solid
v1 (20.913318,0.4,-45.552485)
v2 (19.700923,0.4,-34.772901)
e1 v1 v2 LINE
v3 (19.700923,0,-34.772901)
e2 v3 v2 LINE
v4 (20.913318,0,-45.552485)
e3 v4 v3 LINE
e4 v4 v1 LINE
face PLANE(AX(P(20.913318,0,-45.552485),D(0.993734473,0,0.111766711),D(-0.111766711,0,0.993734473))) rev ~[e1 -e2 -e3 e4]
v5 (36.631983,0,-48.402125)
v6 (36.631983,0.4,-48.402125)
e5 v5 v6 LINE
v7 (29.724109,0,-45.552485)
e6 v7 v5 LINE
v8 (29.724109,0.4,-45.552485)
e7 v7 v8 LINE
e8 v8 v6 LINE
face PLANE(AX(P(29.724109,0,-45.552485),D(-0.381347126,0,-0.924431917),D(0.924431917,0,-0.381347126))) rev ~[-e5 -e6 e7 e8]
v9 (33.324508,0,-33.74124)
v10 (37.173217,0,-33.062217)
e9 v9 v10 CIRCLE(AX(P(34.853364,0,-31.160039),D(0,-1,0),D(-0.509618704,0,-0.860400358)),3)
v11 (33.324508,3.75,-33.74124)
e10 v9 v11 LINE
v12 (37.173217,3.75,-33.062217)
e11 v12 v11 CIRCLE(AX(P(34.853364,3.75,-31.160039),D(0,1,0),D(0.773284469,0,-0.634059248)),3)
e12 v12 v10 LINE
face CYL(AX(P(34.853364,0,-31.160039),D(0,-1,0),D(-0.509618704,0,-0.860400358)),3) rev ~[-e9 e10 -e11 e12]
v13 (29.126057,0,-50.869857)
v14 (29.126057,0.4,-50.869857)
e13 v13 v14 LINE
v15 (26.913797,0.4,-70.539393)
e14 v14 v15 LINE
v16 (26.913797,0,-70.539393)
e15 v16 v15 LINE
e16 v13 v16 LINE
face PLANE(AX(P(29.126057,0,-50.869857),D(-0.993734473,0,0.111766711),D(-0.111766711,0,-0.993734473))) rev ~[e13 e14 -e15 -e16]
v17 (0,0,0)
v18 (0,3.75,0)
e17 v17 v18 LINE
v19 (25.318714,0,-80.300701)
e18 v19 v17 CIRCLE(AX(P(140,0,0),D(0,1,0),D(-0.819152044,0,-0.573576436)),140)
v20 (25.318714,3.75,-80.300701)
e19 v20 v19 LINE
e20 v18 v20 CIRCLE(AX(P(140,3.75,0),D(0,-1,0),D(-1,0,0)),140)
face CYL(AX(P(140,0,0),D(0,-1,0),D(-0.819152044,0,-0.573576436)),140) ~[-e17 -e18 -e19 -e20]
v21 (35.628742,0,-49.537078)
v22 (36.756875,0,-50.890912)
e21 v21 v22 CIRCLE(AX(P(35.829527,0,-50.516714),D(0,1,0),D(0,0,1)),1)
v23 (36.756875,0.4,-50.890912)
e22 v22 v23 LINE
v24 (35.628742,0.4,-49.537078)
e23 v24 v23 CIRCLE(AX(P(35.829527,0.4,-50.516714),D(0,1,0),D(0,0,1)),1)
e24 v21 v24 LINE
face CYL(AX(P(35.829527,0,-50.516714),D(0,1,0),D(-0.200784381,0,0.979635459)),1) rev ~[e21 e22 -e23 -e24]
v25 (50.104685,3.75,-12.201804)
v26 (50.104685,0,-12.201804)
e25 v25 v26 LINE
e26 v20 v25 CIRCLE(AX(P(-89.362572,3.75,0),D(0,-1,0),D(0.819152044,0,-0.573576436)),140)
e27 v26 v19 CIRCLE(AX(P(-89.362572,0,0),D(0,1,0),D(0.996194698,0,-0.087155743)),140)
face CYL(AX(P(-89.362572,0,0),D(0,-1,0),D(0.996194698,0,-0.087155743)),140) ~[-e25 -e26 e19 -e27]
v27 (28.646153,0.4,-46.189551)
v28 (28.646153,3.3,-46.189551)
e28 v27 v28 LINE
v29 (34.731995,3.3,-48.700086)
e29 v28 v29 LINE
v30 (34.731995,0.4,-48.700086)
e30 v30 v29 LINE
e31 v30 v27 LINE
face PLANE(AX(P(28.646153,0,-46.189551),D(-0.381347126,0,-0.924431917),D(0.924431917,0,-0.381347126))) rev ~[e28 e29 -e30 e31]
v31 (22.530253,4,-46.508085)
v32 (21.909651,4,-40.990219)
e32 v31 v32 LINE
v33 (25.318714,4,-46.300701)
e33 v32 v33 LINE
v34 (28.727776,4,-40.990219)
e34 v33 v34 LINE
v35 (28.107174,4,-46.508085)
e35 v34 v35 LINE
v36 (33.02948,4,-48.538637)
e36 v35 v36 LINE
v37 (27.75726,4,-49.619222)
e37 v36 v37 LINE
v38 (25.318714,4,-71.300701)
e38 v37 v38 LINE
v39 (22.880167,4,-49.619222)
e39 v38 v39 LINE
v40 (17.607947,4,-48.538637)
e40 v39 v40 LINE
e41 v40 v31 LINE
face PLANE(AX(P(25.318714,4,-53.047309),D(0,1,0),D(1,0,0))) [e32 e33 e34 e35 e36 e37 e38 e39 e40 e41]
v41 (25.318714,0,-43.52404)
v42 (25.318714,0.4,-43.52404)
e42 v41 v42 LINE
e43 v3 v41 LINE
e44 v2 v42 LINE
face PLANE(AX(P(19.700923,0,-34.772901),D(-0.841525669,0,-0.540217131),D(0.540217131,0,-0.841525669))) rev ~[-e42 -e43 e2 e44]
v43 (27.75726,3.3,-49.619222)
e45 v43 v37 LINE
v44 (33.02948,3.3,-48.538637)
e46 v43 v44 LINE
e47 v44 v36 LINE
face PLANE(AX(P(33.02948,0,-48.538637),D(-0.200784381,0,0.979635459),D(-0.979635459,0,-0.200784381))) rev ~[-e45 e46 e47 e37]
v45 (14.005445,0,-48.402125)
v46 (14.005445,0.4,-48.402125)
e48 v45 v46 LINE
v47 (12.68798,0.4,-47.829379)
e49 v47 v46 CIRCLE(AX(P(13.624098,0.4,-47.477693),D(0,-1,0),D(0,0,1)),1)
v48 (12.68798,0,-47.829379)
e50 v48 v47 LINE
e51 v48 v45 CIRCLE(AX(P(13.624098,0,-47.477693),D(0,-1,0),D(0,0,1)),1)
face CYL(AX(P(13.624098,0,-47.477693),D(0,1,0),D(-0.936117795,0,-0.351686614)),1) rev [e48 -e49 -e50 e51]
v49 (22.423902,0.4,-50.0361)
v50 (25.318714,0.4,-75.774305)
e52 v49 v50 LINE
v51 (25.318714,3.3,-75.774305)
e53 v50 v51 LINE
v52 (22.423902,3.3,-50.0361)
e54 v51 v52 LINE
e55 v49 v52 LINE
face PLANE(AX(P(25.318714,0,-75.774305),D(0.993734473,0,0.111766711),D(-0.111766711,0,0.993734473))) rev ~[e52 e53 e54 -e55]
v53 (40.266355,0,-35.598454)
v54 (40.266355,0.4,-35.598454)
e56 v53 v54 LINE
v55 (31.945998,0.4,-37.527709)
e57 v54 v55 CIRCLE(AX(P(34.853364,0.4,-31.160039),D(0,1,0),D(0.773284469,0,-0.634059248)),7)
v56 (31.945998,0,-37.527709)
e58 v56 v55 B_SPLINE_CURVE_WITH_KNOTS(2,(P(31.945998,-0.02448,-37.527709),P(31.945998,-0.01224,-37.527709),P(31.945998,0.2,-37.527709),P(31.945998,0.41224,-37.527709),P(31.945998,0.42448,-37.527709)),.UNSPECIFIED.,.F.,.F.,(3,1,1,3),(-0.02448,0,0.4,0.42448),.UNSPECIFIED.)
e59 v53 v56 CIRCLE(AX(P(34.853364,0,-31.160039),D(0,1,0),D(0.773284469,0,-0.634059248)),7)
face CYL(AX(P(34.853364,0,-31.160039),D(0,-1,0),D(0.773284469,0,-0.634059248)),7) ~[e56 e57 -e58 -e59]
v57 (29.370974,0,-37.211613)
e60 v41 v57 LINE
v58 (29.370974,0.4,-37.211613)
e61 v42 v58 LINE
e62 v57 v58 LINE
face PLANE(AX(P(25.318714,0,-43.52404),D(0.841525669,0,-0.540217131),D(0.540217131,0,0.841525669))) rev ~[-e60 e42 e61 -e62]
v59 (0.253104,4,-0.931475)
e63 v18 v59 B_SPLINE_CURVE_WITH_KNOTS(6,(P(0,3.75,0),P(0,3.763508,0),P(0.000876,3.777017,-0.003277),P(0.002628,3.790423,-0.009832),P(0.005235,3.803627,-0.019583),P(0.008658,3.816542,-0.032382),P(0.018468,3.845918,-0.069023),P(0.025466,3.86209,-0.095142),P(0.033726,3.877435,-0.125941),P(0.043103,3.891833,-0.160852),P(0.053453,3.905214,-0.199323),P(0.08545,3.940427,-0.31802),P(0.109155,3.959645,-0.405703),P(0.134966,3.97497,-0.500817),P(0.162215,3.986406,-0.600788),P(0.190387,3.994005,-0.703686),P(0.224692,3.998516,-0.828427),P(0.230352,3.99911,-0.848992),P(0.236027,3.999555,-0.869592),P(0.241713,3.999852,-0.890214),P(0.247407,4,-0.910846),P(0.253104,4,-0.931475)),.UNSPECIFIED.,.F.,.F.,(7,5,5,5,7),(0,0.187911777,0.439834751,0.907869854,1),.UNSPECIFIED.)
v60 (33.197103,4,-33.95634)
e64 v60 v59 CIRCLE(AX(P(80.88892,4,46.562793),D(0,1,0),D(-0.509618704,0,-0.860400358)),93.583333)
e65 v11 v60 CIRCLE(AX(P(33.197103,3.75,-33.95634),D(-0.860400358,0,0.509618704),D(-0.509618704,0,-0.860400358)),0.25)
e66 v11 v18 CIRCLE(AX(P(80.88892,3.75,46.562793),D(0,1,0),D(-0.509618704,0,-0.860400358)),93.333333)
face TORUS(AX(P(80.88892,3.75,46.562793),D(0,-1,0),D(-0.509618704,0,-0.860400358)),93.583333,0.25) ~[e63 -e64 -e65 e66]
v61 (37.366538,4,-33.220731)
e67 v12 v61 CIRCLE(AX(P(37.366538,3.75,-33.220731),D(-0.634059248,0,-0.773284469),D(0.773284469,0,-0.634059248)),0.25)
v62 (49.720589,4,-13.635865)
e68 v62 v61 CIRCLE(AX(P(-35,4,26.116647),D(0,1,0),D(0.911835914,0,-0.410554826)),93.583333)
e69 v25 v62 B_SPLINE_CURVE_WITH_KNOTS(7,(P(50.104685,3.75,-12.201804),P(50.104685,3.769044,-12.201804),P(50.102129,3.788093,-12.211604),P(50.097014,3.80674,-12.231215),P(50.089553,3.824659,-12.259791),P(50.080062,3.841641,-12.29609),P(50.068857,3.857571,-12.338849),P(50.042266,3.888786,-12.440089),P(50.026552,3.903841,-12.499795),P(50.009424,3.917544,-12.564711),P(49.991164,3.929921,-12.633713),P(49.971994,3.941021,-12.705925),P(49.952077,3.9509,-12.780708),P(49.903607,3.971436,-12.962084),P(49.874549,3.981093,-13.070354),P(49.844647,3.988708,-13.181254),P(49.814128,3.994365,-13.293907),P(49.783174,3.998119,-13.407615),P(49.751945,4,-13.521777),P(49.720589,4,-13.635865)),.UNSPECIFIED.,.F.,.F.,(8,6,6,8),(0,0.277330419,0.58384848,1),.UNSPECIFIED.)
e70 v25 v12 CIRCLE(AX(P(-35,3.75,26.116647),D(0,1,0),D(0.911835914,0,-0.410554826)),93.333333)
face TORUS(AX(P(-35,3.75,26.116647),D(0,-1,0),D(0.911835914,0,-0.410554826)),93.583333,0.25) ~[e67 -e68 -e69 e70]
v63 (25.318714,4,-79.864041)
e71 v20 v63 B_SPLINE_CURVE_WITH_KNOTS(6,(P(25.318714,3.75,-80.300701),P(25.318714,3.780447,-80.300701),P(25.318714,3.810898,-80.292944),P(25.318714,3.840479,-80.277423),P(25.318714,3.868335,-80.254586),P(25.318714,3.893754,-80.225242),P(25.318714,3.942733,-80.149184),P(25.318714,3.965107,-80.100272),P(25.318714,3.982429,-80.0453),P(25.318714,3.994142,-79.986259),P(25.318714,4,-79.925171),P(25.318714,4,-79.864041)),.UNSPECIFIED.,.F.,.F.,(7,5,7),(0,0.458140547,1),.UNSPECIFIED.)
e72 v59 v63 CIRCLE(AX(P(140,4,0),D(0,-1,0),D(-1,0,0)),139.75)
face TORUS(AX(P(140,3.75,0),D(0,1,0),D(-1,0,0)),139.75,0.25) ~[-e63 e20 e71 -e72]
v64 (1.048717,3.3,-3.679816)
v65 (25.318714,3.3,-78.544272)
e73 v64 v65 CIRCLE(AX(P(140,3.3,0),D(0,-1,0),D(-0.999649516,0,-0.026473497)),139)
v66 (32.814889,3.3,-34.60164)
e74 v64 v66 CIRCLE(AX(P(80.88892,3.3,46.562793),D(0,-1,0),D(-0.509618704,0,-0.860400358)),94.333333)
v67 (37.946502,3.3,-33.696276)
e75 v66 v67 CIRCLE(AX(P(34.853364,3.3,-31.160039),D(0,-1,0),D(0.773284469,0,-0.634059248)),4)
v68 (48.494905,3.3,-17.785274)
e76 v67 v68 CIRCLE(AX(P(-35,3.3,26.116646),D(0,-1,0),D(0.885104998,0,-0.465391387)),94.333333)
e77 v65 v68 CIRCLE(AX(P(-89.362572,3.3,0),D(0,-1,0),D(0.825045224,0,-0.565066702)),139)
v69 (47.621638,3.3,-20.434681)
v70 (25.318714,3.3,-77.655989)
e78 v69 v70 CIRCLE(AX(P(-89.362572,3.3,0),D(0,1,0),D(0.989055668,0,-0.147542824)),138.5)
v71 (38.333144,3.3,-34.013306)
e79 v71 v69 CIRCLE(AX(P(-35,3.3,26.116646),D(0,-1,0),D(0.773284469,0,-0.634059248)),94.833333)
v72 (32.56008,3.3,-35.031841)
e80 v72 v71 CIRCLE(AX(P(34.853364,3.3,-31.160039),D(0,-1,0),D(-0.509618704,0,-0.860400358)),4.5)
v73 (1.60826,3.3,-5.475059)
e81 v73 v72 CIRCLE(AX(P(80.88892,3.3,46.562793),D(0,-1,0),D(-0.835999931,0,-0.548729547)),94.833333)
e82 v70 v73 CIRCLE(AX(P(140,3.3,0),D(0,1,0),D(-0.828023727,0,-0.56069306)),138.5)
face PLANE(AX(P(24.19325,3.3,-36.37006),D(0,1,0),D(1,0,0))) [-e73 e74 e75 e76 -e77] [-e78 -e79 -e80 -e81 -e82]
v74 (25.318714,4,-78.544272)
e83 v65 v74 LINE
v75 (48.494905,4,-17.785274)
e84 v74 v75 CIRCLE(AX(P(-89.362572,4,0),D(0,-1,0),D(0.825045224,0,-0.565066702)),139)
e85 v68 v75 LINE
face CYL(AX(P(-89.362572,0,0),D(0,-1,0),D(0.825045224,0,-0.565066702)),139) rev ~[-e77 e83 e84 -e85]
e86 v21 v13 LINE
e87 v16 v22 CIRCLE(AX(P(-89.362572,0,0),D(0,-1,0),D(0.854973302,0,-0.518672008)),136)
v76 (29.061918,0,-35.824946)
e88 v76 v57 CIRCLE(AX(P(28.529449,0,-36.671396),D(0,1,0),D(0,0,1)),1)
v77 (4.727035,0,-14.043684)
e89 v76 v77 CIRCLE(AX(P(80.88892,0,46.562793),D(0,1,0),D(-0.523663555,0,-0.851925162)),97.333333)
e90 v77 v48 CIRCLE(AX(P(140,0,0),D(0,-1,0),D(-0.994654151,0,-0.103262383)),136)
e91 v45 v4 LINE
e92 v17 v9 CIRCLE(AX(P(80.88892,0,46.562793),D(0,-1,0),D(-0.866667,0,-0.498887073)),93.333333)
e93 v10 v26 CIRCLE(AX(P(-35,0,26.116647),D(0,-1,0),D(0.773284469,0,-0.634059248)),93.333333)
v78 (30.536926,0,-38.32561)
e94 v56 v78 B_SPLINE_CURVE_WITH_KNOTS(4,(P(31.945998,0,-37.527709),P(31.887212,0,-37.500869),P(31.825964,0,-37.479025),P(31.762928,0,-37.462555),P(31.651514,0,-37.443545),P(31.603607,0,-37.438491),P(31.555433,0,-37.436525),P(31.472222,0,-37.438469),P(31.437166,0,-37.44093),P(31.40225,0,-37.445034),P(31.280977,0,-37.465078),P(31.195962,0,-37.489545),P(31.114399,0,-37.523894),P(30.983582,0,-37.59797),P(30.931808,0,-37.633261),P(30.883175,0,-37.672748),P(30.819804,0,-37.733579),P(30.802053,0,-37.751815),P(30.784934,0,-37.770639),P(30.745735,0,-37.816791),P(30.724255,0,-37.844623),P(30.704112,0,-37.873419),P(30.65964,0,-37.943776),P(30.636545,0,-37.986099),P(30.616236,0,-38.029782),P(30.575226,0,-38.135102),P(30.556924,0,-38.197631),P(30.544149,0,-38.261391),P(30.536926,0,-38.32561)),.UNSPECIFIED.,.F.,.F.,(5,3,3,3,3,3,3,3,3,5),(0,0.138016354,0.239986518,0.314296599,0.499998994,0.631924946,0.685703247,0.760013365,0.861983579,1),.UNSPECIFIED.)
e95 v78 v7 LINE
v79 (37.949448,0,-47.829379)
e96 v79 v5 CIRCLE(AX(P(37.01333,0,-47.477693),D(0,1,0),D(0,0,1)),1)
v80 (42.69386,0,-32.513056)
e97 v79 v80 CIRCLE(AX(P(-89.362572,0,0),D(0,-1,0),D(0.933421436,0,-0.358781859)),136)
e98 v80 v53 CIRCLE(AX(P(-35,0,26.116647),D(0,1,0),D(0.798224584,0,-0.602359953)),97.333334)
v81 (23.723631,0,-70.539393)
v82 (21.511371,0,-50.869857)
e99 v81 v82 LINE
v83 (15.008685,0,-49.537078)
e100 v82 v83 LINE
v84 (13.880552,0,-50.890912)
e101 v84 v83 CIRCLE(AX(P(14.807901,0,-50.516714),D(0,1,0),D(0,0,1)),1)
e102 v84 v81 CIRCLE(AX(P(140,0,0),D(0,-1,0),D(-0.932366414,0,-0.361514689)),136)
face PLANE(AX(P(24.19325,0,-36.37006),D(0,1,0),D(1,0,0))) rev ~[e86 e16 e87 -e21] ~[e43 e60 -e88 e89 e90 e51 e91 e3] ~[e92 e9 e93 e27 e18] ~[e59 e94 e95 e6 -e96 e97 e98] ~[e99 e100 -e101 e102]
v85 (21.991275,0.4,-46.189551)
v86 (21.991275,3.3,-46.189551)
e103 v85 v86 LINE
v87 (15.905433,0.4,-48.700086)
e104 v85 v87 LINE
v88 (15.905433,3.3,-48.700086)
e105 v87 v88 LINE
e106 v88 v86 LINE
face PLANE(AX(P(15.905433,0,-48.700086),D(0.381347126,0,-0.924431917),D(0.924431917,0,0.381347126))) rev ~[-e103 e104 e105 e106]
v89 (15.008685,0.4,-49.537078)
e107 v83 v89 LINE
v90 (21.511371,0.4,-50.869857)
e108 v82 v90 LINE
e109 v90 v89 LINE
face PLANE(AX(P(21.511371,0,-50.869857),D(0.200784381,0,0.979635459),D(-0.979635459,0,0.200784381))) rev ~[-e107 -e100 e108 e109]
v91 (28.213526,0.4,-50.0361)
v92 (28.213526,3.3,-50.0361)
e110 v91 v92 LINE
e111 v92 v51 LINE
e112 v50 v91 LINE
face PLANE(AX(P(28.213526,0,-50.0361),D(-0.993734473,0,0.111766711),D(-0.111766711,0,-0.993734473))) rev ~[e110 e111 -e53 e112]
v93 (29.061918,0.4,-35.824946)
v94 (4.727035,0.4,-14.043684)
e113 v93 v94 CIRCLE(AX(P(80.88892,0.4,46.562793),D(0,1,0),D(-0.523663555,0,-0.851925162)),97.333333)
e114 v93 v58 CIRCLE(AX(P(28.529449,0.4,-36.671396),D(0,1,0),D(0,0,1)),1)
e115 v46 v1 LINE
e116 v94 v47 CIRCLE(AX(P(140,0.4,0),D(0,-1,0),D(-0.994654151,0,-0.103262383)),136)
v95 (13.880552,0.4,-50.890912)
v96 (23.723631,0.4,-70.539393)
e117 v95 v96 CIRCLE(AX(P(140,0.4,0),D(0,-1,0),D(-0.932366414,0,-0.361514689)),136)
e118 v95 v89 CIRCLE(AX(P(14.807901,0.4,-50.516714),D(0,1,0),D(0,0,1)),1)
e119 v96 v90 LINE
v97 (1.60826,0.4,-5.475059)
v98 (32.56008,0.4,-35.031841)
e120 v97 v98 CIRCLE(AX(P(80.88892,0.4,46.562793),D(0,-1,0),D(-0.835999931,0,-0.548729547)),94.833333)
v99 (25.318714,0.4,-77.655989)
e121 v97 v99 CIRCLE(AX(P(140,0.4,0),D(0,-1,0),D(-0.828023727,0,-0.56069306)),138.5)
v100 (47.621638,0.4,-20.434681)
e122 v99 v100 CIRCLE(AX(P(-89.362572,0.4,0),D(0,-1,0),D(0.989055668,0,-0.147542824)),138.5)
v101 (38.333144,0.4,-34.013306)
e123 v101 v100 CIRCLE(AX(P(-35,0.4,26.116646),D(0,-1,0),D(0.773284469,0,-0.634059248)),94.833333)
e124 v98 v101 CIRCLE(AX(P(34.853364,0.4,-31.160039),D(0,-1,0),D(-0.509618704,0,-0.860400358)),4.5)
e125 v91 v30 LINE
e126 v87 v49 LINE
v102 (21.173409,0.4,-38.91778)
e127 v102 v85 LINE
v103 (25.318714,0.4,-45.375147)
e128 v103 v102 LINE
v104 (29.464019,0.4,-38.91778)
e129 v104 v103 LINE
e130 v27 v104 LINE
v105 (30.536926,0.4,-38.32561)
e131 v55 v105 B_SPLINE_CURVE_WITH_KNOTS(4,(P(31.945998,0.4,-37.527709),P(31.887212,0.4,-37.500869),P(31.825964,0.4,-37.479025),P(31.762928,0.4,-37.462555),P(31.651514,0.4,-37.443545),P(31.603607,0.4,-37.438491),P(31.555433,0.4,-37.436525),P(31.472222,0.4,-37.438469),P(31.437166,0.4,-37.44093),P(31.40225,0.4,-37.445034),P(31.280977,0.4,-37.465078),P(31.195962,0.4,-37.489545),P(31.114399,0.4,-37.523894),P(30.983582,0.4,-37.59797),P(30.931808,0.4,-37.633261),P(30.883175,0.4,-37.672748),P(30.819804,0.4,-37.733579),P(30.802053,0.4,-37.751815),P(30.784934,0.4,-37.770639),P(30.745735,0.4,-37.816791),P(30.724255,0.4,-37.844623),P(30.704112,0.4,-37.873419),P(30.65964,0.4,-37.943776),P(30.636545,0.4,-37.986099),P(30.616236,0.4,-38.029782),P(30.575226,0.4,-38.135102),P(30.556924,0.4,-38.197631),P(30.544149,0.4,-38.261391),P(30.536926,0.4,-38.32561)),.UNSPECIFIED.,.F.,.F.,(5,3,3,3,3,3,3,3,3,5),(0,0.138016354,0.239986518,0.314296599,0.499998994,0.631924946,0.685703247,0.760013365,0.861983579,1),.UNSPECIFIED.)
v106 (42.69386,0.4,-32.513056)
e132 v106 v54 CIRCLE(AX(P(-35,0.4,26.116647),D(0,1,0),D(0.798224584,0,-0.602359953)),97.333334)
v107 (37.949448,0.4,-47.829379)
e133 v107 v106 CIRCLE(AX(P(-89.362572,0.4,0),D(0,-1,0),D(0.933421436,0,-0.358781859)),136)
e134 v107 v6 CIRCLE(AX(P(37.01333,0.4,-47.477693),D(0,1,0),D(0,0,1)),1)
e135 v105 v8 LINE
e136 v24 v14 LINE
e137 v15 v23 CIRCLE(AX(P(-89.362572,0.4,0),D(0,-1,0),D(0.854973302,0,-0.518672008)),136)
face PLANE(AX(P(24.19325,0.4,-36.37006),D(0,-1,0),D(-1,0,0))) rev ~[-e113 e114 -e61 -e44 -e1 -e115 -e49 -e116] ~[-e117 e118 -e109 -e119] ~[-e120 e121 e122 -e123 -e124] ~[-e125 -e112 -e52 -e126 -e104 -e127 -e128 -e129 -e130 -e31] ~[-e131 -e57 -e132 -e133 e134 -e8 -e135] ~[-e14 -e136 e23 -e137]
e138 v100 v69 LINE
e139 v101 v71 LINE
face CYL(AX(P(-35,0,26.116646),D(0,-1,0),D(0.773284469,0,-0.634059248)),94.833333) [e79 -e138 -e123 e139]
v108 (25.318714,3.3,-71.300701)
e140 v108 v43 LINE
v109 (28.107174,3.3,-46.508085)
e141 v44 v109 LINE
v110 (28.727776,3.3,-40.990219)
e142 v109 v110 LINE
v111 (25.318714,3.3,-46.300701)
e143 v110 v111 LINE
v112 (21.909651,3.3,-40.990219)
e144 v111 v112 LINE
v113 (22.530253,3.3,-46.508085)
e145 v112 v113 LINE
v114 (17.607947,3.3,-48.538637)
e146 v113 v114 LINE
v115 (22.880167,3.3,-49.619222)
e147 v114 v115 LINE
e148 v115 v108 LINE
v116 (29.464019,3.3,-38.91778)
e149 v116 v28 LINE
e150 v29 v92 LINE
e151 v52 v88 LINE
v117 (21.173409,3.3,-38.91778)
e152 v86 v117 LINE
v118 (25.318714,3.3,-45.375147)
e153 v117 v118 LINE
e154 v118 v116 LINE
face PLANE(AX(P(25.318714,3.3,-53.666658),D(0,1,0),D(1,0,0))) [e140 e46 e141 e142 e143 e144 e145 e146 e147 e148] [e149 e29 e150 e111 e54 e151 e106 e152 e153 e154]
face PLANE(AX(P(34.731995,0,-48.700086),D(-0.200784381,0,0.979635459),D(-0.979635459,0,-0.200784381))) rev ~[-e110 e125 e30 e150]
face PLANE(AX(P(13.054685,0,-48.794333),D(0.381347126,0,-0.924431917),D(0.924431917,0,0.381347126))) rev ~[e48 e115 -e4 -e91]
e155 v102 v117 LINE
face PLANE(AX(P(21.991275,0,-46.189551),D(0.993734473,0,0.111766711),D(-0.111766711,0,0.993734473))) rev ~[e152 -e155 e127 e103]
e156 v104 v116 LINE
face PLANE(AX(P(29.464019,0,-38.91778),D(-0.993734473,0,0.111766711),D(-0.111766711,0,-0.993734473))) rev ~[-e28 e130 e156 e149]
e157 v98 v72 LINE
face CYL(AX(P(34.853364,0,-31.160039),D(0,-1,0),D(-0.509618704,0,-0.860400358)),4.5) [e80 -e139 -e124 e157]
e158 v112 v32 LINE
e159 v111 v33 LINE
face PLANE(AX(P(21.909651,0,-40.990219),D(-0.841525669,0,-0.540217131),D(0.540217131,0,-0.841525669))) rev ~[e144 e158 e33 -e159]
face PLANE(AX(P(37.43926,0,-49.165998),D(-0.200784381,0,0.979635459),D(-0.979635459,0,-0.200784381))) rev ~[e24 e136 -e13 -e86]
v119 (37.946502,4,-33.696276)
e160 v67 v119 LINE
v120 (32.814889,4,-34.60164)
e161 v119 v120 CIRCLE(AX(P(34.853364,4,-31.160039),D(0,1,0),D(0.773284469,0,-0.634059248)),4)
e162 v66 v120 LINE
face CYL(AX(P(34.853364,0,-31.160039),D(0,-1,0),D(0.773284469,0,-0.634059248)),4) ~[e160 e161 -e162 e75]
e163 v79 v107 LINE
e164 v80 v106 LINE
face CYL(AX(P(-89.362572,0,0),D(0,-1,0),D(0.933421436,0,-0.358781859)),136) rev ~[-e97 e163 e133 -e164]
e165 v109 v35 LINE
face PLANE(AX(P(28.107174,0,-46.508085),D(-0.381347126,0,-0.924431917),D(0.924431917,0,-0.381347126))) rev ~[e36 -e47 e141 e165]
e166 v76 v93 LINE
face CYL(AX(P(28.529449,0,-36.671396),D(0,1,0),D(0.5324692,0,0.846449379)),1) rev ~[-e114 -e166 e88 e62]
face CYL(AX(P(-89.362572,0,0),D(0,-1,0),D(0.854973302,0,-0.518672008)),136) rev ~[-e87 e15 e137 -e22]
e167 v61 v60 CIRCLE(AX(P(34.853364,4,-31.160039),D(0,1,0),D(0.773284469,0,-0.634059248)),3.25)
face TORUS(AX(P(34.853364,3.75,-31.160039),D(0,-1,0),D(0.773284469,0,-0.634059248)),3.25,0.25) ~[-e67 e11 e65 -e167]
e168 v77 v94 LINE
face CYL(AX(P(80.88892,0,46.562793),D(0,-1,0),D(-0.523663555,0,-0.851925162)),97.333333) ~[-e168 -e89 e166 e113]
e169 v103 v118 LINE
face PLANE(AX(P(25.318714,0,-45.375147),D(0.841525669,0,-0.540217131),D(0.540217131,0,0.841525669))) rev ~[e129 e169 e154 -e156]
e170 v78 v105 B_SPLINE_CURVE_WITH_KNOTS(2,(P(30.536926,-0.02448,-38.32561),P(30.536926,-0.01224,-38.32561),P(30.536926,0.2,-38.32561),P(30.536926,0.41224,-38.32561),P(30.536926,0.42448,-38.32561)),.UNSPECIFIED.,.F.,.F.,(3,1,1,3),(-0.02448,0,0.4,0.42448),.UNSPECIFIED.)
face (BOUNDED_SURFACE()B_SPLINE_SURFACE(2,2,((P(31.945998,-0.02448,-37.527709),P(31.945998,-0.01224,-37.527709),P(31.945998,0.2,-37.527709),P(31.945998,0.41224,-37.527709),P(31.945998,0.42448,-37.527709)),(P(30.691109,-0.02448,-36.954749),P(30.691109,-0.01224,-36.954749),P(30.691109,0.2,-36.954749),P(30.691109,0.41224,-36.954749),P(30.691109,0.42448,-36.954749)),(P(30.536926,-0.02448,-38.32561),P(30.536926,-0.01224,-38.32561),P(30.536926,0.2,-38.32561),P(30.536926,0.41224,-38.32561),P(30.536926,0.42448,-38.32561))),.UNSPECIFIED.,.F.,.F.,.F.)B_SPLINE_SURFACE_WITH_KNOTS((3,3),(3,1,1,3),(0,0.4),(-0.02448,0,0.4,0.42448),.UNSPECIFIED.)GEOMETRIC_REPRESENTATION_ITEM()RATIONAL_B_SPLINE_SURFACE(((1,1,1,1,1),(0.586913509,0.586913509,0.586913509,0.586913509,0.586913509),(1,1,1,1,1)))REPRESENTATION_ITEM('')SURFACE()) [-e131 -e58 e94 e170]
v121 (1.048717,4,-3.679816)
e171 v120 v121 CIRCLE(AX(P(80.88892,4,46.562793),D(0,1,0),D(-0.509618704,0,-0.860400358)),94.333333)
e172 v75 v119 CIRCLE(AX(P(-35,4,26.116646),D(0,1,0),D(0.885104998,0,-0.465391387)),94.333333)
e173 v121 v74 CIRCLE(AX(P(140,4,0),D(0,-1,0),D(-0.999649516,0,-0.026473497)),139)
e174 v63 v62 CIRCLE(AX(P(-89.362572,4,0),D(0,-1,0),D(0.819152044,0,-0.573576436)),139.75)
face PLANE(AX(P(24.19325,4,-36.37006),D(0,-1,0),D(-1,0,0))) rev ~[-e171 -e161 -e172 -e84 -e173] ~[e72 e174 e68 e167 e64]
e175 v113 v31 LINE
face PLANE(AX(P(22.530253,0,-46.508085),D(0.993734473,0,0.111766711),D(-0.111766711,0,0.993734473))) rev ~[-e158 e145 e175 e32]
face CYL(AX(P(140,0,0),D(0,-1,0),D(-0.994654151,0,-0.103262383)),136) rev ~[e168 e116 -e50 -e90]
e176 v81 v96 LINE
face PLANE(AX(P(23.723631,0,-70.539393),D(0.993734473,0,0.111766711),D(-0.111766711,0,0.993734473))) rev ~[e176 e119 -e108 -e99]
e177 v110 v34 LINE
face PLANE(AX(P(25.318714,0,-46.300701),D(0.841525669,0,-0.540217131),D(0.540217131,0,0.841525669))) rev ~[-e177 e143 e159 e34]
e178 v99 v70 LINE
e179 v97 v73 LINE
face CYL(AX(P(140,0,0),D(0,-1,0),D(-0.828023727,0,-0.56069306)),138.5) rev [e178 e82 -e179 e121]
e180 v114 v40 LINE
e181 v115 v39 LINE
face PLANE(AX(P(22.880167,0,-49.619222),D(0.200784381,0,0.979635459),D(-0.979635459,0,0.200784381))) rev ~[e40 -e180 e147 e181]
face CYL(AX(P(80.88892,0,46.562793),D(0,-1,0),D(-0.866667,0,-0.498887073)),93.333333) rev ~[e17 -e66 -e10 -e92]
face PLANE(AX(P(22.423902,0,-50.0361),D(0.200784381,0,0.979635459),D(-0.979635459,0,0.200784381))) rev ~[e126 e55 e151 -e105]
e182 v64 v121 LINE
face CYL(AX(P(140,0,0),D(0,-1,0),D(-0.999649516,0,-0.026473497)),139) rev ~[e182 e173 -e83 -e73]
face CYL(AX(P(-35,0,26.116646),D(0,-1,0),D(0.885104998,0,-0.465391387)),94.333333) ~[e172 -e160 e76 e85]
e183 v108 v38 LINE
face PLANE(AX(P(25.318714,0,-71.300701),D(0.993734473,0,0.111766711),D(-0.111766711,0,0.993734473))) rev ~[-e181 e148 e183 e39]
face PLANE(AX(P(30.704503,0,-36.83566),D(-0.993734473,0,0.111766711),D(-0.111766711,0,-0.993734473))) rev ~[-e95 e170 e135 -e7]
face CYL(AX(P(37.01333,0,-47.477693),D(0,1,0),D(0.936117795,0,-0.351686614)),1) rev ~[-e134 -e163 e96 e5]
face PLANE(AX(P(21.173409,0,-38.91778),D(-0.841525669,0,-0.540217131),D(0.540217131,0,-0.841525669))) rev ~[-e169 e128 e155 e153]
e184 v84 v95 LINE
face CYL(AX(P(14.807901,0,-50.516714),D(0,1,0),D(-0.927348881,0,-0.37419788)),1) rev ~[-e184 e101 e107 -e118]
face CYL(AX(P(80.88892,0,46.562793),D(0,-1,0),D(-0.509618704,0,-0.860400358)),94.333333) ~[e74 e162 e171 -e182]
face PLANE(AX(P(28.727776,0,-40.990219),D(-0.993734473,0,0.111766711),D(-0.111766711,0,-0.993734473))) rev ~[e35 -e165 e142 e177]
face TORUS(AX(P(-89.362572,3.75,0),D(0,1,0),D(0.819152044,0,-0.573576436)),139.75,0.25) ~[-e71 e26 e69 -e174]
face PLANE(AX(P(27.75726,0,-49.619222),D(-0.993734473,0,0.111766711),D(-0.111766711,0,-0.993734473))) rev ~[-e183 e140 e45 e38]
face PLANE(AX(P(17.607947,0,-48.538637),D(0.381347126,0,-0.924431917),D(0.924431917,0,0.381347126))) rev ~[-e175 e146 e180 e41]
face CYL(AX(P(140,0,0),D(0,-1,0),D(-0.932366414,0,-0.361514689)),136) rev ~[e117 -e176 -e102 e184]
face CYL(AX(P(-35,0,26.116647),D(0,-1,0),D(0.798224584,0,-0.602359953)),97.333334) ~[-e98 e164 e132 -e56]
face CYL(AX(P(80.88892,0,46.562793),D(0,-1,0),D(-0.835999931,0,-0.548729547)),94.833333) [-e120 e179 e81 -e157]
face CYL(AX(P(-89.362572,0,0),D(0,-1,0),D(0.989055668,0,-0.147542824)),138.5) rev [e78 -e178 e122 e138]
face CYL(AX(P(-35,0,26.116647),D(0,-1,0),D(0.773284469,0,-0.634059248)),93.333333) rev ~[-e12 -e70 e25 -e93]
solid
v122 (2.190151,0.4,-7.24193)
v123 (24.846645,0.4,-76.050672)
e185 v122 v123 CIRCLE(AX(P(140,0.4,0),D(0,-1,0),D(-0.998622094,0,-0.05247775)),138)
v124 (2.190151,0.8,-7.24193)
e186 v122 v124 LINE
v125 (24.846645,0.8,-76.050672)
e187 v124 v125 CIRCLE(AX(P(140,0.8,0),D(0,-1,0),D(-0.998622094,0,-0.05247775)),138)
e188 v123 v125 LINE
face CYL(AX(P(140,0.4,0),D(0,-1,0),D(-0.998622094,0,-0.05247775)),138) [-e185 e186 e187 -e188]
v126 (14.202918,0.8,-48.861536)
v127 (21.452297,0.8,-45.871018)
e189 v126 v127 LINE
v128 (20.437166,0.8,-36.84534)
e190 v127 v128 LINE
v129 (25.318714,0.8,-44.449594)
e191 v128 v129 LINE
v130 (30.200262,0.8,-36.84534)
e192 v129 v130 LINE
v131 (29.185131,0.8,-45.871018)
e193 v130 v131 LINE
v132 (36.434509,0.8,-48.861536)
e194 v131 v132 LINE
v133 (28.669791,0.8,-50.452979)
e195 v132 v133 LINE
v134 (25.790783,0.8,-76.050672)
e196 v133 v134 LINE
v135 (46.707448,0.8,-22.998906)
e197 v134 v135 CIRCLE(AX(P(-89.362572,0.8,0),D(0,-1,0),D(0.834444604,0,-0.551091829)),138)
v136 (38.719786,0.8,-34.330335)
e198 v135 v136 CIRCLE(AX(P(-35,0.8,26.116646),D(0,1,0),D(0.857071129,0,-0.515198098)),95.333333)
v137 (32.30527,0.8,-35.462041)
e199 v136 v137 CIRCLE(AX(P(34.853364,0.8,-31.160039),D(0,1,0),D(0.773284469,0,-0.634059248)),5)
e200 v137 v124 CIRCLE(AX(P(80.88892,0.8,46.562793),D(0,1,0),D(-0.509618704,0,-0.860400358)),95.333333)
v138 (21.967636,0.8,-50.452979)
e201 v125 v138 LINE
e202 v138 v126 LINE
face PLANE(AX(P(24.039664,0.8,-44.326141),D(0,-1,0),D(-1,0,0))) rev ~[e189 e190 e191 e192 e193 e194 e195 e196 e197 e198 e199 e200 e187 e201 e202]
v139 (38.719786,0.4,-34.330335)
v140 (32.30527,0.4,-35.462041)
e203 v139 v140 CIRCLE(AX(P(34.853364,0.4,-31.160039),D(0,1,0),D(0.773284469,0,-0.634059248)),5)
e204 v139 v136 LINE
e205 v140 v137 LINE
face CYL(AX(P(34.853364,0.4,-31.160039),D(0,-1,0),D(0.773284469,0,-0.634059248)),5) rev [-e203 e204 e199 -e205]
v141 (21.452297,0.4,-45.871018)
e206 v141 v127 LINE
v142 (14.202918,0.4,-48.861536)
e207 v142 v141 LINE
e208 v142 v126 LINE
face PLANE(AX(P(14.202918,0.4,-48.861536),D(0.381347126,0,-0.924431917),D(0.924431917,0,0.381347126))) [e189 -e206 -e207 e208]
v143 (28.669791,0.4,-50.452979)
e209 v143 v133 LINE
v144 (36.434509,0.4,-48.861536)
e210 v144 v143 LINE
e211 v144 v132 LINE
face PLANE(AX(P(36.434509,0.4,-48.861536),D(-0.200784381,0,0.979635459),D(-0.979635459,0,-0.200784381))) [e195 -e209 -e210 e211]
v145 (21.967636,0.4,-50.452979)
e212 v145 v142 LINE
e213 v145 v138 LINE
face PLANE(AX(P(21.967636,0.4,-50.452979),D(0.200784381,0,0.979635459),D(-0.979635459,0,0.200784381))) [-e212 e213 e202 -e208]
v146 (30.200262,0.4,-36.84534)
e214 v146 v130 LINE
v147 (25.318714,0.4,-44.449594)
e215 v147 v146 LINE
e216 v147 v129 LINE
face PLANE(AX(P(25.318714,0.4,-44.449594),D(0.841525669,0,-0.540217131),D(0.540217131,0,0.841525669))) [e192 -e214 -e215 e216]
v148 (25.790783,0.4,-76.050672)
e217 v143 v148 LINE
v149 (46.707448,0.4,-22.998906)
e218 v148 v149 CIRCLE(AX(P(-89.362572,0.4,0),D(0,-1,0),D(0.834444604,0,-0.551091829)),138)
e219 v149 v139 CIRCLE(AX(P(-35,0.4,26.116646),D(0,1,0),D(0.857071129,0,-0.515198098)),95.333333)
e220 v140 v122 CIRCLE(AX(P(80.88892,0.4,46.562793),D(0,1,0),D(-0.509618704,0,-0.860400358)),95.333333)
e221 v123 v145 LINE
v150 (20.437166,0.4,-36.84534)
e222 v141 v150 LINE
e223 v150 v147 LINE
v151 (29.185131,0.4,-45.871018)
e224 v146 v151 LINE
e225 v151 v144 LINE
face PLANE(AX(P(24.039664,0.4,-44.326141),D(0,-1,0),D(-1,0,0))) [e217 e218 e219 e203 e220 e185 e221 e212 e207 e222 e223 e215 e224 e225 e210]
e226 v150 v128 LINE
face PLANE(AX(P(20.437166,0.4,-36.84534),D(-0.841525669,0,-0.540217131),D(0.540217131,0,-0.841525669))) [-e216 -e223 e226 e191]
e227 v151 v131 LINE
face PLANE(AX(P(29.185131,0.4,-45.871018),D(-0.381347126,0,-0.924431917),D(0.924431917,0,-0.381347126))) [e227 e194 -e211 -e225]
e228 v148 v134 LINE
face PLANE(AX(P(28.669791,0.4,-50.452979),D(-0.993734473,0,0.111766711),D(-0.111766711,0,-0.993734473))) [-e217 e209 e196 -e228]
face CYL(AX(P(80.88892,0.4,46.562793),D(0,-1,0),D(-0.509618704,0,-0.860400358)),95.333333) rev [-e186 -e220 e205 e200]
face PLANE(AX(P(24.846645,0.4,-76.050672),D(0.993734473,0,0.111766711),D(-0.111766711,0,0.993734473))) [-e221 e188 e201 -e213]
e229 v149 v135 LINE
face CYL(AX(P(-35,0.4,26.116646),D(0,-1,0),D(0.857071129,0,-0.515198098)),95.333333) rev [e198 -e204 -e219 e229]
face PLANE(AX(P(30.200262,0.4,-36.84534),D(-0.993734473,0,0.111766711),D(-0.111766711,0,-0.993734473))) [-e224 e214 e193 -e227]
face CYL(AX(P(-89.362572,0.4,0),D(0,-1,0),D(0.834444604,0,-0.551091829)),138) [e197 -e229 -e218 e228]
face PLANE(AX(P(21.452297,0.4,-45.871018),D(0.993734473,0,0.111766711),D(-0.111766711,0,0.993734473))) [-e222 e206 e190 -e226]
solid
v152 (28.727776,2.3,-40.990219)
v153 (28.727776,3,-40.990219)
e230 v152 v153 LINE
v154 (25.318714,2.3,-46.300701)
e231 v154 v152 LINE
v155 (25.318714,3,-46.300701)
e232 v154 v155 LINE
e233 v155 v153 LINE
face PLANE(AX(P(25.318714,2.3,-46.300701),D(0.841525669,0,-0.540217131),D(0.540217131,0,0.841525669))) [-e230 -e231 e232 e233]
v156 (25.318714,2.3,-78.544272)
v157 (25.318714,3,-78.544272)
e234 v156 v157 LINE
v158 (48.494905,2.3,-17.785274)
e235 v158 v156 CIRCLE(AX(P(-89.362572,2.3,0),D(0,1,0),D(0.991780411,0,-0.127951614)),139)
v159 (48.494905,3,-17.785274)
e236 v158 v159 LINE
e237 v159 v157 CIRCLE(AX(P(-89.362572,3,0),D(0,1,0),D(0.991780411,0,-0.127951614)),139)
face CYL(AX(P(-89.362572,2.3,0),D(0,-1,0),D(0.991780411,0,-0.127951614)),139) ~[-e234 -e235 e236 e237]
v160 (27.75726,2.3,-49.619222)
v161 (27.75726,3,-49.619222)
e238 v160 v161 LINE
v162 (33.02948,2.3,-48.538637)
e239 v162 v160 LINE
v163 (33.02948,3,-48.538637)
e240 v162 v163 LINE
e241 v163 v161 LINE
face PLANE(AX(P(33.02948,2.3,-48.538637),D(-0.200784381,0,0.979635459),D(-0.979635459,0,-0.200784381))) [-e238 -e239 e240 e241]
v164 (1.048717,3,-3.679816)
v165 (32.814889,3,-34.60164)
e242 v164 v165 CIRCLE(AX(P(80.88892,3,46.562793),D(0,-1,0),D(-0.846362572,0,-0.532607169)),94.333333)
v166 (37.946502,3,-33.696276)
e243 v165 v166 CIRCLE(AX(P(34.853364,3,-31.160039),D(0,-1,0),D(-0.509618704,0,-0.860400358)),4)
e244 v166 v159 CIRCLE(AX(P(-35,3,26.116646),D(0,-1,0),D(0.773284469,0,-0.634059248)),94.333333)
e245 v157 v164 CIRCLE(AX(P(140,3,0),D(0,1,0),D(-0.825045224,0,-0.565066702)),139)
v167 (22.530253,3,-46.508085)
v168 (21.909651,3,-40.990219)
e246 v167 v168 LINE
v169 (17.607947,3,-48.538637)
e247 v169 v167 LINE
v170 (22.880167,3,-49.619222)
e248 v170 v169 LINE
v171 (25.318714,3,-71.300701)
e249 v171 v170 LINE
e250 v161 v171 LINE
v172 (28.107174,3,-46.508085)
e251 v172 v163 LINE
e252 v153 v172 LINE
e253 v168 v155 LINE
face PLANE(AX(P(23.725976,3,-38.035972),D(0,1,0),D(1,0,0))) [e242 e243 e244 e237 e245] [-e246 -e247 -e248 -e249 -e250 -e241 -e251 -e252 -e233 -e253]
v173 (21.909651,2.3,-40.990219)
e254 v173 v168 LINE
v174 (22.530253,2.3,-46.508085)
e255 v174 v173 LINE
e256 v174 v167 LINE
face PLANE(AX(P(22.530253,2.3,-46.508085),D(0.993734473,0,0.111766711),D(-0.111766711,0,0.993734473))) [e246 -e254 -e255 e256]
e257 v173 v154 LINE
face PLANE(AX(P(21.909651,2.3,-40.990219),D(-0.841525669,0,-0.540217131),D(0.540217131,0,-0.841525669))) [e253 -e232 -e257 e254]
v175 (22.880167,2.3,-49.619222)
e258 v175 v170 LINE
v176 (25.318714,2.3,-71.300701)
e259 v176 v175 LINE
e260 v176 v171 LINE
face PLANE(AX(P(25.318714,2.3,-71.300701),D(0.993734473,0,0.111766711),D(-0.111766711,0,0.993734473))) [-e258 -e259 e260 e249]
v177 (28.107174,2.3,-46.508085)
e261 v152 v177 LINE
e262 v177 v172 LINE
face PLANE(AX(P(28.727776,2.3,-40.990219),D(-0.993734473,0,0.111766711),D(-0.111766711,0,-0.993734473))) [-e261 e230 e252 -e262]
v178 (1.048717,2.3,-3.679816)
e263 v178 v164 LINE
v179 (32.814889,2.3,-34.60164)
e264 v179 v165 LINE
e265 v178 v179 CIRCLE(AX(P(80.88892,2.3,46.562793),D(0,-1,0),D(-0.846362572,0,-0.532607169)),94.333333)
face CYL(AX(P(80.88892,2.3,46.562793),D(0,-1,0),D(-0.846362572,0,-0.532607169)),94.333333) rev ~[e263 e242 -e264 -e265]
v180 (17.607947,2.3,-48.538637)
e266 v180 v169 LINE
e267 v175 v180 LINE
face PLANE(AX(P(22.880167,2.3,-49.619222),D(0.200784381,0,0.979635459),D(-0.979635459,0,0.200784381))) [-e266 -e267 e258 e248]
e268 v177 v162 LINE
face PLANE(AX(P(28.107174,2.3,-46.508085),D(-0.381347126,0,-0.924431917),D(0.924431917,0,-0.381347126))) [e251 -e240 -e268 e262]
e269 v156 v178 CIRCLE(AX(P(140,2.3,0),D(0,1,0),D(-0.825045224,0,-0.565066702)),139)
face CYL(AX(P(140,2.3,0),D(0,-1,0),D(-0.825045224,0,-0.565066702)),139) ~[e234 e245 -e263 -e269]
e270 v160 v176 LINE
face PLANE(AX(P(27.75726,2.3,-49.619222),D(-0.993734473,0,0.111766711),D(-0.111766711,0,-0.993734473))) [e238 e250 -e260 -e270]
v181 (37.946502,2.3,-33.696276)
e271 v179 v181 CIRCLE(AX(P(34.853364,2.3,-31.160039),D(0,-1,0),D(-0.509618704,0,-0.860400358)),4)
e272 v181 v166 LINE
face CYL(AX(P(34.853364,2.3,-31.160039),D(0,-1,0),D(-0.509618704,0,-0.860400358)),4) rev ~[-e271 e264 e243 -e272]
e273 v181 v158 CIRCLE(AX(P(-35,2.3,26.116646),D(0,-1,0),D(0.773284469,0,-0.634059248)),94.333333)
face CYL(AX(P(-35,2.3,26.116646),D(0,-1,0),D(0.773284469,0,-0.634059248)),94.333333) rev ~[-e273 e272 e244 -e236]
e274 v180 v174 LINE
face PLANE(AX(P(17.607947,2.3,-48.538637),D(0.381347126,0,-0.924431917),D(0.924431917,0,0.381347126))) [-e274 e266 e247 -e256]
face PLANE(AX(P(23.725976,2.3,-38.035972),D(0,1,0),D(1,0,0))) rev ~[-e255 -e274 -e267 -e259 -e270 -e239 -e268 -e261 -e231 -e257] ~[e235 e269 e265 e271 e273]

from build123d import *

# Parameters (mm, degrees)
BOSS_EXTRUDE4_START  = 2.3
BOSS_EXTRUDE4_DEPTH  = 0.7
BOSS_EXTRUDE5_DEPTH  = 3.3
BOSS_EXTRUDE6_DEPTH  = 3.3
BOSS_EXTRUDE7_DEPTH  = 4
BOSS_EXTRUDE8_DEPTH  = 4
BOSS_EXTRUDE11_DEPTH = 0.4
FILLET1_R            = 1
BOSS_EXTRUDE13_DEPTH = 0.4
FILLET2_R            = 0.25


with BuildPart() as part:
    # Sketch7 → Boss-Extrude4 (new body)
    with BuildSketch(Plane(origin=(0, 0, 0), x_dir=(1, 0, 0), z_dir=(0, 1, 0)).offset(BOSS_EXTRUDE4_START)):
        with BuildLine():
            ThreePointArc((25.3187138, 78.544271563), (7.774655726, 42.865584467), (1.048717339, 3.67981614))
            ThreePointArc((1.048717339, 3.67981614), (15.089584113, 21.033250642), (32.814888894, 34.601640347))
            ThreePointArc((32.814888894, 34.601640347), (35.548345535, 35.099201296), (37.946501588, 33.696275907))
            ThreePointArc((37.946501588, 33.696275907), (43.624222728, 26.008293603), (48.494904785, 17.785274356))
            ThreePointArc((48.494904785, 17.785274356), (40.509944663, 49.539169466), (25.3187138, 78.544271563))
        make_face()
        Polygon((25.3187138, 71.300701089), (22.880167391, 49.619221751), (17.607947401, 48.538636703), (22.53025342, 46.508084516), (21.9096513, 40.990218623), (25.3187138, 46.300701089), (28.7277763, 40.990218623), (28.107174179, 46.508084516), (33.029480199, 48.538636703), (27.757260208, 49.619221751), align=None, mode=Mode.SUBTRACT)
    extrude(amount=BOSS_EXTRUDE4_DEPTH)


with BuildPart() as body_2:
    # Sketch11 → Boss-Extrude5 (new body)
    with BuildSketch(Plane(origin=(0, 0, 0), x_dir=(1, 0, 0), z_dir=(0, 1, 0))):
        Polygon((25.3187138, 75.774305051), (22.423901789, 50.036100284), (15.905432755, 48.700086198), (21.991275042, 46.189551437), (21.173408654, 38.917779558), (25.3187138, 45.375147323), (29.464018945, 38.917779558), (28.646152557, 46.189551437), (34.731994844, 48.700086198), (28.21352581, 50.036100284), align=None)
    extrude(amount=BOSS_EXTRUDE5_DEPTH)

    # Sketch4 → Boss-Extrude8 (add)
    with BuildSketch(Plane(origin=(0, 0, 0), x_dir=(1, 0, 0), z_dir=(0, 1, 0))):
        Polygon((25.3187138, 71.300701089), (22.880167391, 49.619221751), (17.607947401, 48.538636703), (22.53025342, 46.508084516), (21.9096513, 40.990218623), (25.3187138, 46.300701089), (28.7277763, 40.990218623), (28.107174179, 46.508084516), (33.029480199, 48.538636703), (27.757260208, 49.619221751), align=None)
    extrude(amount=BOSS_EXTRUDE8_DEPTH)



with BuildPart() as body_3:
    # Sketch8 → Boss-Extrude6 (new body)
    with BuildSketch(Plane(origin=(0, 0, 0), x_dir=(1, 0, 0), z_dir=(0, 1, 0))):
        with BuildLine():
            ThreePointArc((25.3187138, 80.300701089), (6.479626895, 42.098811931), (0, 0))
            ThreePointArc((0, 0), (14.483479935, 19.022484189), (33.324507598, 33.741239989))
            ThreePointArc((33.324507598, 33.741239989), (35.374600079, 34.114410701), (37.173217119, 33.062216659))
            ThreePointArc((37.173217119, 33.062216659), (44.32763613, 23.058929343), (50.104685332, 12.201803985))
            ThreePointArc((50.104685332, 12.201803985), (42.194394509, 47.882820066), (25.3187138, 80.300701089))
        make_face()
        with BuildLine():
            ThreePointArc((25.3187138, 77.655988793), (8.417285199, 43.223132296), (1.60825988, 5.475058578))
            ThreePointArc((1.60825988, 5.475058578), (15.395050063, 22.022293224), (32.560079542, 35.031840527))
            ThreePointArc((32.560079542, 35.031840527), (35.635218263, 35.591596594), (38.333143822, 34.01330553))
            ThreePointArc((38.333143822, 34.01330553), (43.27239761, 27.425793547), (47.621637666, 20.434681115))
            ThreePointArc((47.621637666, 20.434681115), (39.681799875, 50.297117055), (25.3187138, 77.655988793))
        make_face(mode=Mode.SUBTRACT)
    extrude(amount=BOSS_EXTRUDE6_DEPTH)

    # Sketch5 → Boss-Extrude7 (add)
    with BuildSketch(Plane(origin=(0, 0, 0), x_dir=(1, 0, 0), z_dir=(0, 1, 0))):
        with BuildLine():
            ThreePointArc((33.324507598, 33.741239989), (14.483479935, 19.022484189), (0, 0))
            ThreePointArc((0, 0), (6.479626895, 42.098811931), (25.3187138, 80.300701089))
            ThreePointArc((25.3187138, 80.300701089), (42.194394509, 47.882820066), (50.104685332, 12.201803985))
            ThreePointArc((50.104685332, 12.201803985), (44.32763613, 23.058929343), (37.173217119, 33.062216659))
            ThreePointArc((37.173217119, 33.062216659), (35.374600079, 34.114410701), (33.324507598, 33.741239989))
        make_face()
        with BuildLine():
            ThreePointArc((48.494904785, 17.785274356), (43.624222728, 26.008293603), (37.946501588, 33.696275907))
            ThreePointArc((37.946501588, 33.696275907), (35.548345535, 35.099201296), (32.814888894, 34.601640347))
            ThreePointArc((32.814888894, 34.601640347), (15.089584113, 21.033250642), (1.048717339, 3.67981614))
            ThreePointArc((1.048717339, 3.67981614), (7.774655726, 42.865584467), (25.3187138, 78.544271563))
            ThreePointArc((25.3187138, 78.544271563), (40.509944663, 49.539169466), (48.494904785, 17.785274356))
        make_face(mode=Mode.SUBTRACT)
    extrude(amount=BOSS_EXTRUDE7_DEPTH)


with BuildPart() as body_2_1:
    add(body_2.part)

    add(body_3.part)  # Boss-Extrude11 merges body 3
    # Sketch14 → Boss-Extrude11 (add)
    with BuildSketch(Plane(origin=(0, 0, 0), x_dir=(1, 0, 0), z_dir=(0, 1, 0))):
        with BuildLine():
            ThreePointArc((33.324507598, 33.741239989), (14.483479935, 19.022484189), (0, 0))
            ThreePointArc((0, 0), (6.479626895, 42.098811931), (25.3187138, 80.300701089))
            ThreePointArc((25.3187138, 80.300701089), (42.194394509, 47.882820066), (50.104685332, 12.201803985))
            ThreePointArc((50.104685332, 12.201803985), (44.32763613, 23.058929343), (37.173217119, 33.062216659))
            ThreePointArc((37.173217119, 33.062216659), (35.374600079, 34.114410701), (33.324507598, 33.741239989))
        make_face()
        with BuildLine():
            Line((23.723630878, 70.539393135), (21.511370585, 50.869857351))
            Line((21.511370585, 50.869857351), (13.198167733, 49.16599774))
            ThreePointArc((13.198167733, 49.16599774), (17.991973603, 60.083620852), (23.723630878, 70.539393135))
        make_face(mode=Mode.SUBTRACT)
        with BuildLine():
            Line((13.054684669, 48.794332823), (20.913318286, 45.552485279))
            Line((20.913318286, 45.552485279), (19.700923362, 34.77290143))
            Line((19.700923362, 34.77290143), (25.3187138, 43.52403979))
            Line((25.3187138, 43.52403979), (29.919000612, 36.357922285))
            ThreePointArc((29.919000612, 36.357922285), (16.351293772, 26.297844628), (4.727035456, 14.043684112))
            ThreePointArc((4.727035456, 14.043684112), (7.744533302, 31.693714336), (13.054684669, 48.794332823))
        make_face(mode=Mode.SUBTRACT)
        with BuildLine():
            Line((30.704502872, 36.835660121), (29.724109313, 45.552485279))
            Line((29.724109313, 45.552485279), (37.58274293, 48.794332823))
            ThreePointArc((37.58274293, 48.794332823), (40.393915943, 40.733938341), (42.693859526, 32.513055637))
            ThreePointArc((42.693859526, 32.513055637), (41.495664758, 34.067994846), (40.266354995, 35.59845365))
            ThreePointArc((40.266354995, 35.59845365), (36.069581902, 38.053573082), (31.286032781, 37.182841422))
            ThreePointArc((31.286032781, 37.182841422), (30.994965848, 37.009756586), (30.704502872, 36.835660121))
        make_face(mode=Mode.SUBTRACT)
        with BuildLine():
            Line((37.439259866, 49.16599774), (29.126057014, 50.869857351))
            Line((29.126057014, 50.869857351), (26.913796721, 70.539393135))
            ThreePointArc((26.913796721, 70.539393135), (32.645453996, 60.083620852), (37.439259866, 49.16599774))
        make_face(mode=Mode.SUBTRACT)
    extrude(amount=BOSS_EXTRUDE11_DEPTH)

    # Fillet1
    fillet1_edges = [body_2_1.edges().sort_by_distance(p)[0] for p in [
        (29.919000612, 0.2, -36.357922285),
        (30.704502872, 0.2, -36.835660121),
        (37.439259866, 0.2, -49.16599774),
        (37.58274293, 0.2, -48.794332823),
        (13.054684669, 0.2, -48.794332823),
        (13.198167733, 0.2, -49.16599774),
    ]]
    fillet(fillet1_edges, radius=FILLET1_R)

    # Fillet2
    fillet2_edges = [body_2_1.edges().sort_by_distance(p)[0] for p in [
        (35.374600079, 4, -34.114410701),
        (44.32763613, 4, -23.058929343),
        (42.194394509, 4, -47.882820066),
        (6.479626895, 4, -42.098811931),
        (14.483479935, 4, -19.022484189),
    ]]
    fillet(fillet2_edges, radius=FILLET2_R)


with BuildPart() as body_3_2:
    # Sketch19 → Boss-Extrude13 (new body)
    with BuildSketch(Plane(origin=(0, 0.4, 0), x_dir=(1, 0, 0), z_dir=(0, 1, 0))):
        with BuildLine():
            Line((24.8466447, 76.050672339), (21.967636187, 50.452978818))
            Line((21.967636187, 50.452978818), (14.20291811, 48.861535693))
            Line((14.20291811, 48.861535693), (21.452296664, 45.871018358))
            Line((21.452296664, 45.871018358), (20.437166008, 36.845340494))
            Line((20.437166008, 36.845340494), (25.3187138, 44.449593557))
            Line((25.3187138, 44.449593557), (30.200261591, 36.845340494))
            Line((30.200261591, 36.845340494), (29.185130935, 45.871018358))
            Line((29.185130935, 45.871018358), (36.434509489, 48.861535693))
            Line((36.434509489, 48.861535693), (28.669791412, 50.452978818))
            Line((28.669791412, 50.452978818), (25.790782899, 76.050672339))
            ThreePointArc((25.790782899, 76.050672339), (39.0193522, 50.617007376), (46.707447601, 22.998905551))
            ThreePointArc((46.707447601, 22.998905551), (42.919872721, 28.810012622), (38.719786057, 34.330335154))
            ThreePointArc((38.719786057, 34.330335154), (35.722090991, 36.083991891), (32.30527019, 35.462040706))
            ThreePointArc((32.30527019, 35.462040706), (15.702286424, 23.001186092), (2.190151091, 7.241929563))
            ThreePointArc((2.190151091, 7.241929563), (8.92270814, 43.159512956), (24.8466447, 76.050672339))
        make_face()
    extrude(amount=BOSS_EXTRUDE13_DEPTH)


solid = Compound([part.part, body_2_1.part, body_3_2.part])
